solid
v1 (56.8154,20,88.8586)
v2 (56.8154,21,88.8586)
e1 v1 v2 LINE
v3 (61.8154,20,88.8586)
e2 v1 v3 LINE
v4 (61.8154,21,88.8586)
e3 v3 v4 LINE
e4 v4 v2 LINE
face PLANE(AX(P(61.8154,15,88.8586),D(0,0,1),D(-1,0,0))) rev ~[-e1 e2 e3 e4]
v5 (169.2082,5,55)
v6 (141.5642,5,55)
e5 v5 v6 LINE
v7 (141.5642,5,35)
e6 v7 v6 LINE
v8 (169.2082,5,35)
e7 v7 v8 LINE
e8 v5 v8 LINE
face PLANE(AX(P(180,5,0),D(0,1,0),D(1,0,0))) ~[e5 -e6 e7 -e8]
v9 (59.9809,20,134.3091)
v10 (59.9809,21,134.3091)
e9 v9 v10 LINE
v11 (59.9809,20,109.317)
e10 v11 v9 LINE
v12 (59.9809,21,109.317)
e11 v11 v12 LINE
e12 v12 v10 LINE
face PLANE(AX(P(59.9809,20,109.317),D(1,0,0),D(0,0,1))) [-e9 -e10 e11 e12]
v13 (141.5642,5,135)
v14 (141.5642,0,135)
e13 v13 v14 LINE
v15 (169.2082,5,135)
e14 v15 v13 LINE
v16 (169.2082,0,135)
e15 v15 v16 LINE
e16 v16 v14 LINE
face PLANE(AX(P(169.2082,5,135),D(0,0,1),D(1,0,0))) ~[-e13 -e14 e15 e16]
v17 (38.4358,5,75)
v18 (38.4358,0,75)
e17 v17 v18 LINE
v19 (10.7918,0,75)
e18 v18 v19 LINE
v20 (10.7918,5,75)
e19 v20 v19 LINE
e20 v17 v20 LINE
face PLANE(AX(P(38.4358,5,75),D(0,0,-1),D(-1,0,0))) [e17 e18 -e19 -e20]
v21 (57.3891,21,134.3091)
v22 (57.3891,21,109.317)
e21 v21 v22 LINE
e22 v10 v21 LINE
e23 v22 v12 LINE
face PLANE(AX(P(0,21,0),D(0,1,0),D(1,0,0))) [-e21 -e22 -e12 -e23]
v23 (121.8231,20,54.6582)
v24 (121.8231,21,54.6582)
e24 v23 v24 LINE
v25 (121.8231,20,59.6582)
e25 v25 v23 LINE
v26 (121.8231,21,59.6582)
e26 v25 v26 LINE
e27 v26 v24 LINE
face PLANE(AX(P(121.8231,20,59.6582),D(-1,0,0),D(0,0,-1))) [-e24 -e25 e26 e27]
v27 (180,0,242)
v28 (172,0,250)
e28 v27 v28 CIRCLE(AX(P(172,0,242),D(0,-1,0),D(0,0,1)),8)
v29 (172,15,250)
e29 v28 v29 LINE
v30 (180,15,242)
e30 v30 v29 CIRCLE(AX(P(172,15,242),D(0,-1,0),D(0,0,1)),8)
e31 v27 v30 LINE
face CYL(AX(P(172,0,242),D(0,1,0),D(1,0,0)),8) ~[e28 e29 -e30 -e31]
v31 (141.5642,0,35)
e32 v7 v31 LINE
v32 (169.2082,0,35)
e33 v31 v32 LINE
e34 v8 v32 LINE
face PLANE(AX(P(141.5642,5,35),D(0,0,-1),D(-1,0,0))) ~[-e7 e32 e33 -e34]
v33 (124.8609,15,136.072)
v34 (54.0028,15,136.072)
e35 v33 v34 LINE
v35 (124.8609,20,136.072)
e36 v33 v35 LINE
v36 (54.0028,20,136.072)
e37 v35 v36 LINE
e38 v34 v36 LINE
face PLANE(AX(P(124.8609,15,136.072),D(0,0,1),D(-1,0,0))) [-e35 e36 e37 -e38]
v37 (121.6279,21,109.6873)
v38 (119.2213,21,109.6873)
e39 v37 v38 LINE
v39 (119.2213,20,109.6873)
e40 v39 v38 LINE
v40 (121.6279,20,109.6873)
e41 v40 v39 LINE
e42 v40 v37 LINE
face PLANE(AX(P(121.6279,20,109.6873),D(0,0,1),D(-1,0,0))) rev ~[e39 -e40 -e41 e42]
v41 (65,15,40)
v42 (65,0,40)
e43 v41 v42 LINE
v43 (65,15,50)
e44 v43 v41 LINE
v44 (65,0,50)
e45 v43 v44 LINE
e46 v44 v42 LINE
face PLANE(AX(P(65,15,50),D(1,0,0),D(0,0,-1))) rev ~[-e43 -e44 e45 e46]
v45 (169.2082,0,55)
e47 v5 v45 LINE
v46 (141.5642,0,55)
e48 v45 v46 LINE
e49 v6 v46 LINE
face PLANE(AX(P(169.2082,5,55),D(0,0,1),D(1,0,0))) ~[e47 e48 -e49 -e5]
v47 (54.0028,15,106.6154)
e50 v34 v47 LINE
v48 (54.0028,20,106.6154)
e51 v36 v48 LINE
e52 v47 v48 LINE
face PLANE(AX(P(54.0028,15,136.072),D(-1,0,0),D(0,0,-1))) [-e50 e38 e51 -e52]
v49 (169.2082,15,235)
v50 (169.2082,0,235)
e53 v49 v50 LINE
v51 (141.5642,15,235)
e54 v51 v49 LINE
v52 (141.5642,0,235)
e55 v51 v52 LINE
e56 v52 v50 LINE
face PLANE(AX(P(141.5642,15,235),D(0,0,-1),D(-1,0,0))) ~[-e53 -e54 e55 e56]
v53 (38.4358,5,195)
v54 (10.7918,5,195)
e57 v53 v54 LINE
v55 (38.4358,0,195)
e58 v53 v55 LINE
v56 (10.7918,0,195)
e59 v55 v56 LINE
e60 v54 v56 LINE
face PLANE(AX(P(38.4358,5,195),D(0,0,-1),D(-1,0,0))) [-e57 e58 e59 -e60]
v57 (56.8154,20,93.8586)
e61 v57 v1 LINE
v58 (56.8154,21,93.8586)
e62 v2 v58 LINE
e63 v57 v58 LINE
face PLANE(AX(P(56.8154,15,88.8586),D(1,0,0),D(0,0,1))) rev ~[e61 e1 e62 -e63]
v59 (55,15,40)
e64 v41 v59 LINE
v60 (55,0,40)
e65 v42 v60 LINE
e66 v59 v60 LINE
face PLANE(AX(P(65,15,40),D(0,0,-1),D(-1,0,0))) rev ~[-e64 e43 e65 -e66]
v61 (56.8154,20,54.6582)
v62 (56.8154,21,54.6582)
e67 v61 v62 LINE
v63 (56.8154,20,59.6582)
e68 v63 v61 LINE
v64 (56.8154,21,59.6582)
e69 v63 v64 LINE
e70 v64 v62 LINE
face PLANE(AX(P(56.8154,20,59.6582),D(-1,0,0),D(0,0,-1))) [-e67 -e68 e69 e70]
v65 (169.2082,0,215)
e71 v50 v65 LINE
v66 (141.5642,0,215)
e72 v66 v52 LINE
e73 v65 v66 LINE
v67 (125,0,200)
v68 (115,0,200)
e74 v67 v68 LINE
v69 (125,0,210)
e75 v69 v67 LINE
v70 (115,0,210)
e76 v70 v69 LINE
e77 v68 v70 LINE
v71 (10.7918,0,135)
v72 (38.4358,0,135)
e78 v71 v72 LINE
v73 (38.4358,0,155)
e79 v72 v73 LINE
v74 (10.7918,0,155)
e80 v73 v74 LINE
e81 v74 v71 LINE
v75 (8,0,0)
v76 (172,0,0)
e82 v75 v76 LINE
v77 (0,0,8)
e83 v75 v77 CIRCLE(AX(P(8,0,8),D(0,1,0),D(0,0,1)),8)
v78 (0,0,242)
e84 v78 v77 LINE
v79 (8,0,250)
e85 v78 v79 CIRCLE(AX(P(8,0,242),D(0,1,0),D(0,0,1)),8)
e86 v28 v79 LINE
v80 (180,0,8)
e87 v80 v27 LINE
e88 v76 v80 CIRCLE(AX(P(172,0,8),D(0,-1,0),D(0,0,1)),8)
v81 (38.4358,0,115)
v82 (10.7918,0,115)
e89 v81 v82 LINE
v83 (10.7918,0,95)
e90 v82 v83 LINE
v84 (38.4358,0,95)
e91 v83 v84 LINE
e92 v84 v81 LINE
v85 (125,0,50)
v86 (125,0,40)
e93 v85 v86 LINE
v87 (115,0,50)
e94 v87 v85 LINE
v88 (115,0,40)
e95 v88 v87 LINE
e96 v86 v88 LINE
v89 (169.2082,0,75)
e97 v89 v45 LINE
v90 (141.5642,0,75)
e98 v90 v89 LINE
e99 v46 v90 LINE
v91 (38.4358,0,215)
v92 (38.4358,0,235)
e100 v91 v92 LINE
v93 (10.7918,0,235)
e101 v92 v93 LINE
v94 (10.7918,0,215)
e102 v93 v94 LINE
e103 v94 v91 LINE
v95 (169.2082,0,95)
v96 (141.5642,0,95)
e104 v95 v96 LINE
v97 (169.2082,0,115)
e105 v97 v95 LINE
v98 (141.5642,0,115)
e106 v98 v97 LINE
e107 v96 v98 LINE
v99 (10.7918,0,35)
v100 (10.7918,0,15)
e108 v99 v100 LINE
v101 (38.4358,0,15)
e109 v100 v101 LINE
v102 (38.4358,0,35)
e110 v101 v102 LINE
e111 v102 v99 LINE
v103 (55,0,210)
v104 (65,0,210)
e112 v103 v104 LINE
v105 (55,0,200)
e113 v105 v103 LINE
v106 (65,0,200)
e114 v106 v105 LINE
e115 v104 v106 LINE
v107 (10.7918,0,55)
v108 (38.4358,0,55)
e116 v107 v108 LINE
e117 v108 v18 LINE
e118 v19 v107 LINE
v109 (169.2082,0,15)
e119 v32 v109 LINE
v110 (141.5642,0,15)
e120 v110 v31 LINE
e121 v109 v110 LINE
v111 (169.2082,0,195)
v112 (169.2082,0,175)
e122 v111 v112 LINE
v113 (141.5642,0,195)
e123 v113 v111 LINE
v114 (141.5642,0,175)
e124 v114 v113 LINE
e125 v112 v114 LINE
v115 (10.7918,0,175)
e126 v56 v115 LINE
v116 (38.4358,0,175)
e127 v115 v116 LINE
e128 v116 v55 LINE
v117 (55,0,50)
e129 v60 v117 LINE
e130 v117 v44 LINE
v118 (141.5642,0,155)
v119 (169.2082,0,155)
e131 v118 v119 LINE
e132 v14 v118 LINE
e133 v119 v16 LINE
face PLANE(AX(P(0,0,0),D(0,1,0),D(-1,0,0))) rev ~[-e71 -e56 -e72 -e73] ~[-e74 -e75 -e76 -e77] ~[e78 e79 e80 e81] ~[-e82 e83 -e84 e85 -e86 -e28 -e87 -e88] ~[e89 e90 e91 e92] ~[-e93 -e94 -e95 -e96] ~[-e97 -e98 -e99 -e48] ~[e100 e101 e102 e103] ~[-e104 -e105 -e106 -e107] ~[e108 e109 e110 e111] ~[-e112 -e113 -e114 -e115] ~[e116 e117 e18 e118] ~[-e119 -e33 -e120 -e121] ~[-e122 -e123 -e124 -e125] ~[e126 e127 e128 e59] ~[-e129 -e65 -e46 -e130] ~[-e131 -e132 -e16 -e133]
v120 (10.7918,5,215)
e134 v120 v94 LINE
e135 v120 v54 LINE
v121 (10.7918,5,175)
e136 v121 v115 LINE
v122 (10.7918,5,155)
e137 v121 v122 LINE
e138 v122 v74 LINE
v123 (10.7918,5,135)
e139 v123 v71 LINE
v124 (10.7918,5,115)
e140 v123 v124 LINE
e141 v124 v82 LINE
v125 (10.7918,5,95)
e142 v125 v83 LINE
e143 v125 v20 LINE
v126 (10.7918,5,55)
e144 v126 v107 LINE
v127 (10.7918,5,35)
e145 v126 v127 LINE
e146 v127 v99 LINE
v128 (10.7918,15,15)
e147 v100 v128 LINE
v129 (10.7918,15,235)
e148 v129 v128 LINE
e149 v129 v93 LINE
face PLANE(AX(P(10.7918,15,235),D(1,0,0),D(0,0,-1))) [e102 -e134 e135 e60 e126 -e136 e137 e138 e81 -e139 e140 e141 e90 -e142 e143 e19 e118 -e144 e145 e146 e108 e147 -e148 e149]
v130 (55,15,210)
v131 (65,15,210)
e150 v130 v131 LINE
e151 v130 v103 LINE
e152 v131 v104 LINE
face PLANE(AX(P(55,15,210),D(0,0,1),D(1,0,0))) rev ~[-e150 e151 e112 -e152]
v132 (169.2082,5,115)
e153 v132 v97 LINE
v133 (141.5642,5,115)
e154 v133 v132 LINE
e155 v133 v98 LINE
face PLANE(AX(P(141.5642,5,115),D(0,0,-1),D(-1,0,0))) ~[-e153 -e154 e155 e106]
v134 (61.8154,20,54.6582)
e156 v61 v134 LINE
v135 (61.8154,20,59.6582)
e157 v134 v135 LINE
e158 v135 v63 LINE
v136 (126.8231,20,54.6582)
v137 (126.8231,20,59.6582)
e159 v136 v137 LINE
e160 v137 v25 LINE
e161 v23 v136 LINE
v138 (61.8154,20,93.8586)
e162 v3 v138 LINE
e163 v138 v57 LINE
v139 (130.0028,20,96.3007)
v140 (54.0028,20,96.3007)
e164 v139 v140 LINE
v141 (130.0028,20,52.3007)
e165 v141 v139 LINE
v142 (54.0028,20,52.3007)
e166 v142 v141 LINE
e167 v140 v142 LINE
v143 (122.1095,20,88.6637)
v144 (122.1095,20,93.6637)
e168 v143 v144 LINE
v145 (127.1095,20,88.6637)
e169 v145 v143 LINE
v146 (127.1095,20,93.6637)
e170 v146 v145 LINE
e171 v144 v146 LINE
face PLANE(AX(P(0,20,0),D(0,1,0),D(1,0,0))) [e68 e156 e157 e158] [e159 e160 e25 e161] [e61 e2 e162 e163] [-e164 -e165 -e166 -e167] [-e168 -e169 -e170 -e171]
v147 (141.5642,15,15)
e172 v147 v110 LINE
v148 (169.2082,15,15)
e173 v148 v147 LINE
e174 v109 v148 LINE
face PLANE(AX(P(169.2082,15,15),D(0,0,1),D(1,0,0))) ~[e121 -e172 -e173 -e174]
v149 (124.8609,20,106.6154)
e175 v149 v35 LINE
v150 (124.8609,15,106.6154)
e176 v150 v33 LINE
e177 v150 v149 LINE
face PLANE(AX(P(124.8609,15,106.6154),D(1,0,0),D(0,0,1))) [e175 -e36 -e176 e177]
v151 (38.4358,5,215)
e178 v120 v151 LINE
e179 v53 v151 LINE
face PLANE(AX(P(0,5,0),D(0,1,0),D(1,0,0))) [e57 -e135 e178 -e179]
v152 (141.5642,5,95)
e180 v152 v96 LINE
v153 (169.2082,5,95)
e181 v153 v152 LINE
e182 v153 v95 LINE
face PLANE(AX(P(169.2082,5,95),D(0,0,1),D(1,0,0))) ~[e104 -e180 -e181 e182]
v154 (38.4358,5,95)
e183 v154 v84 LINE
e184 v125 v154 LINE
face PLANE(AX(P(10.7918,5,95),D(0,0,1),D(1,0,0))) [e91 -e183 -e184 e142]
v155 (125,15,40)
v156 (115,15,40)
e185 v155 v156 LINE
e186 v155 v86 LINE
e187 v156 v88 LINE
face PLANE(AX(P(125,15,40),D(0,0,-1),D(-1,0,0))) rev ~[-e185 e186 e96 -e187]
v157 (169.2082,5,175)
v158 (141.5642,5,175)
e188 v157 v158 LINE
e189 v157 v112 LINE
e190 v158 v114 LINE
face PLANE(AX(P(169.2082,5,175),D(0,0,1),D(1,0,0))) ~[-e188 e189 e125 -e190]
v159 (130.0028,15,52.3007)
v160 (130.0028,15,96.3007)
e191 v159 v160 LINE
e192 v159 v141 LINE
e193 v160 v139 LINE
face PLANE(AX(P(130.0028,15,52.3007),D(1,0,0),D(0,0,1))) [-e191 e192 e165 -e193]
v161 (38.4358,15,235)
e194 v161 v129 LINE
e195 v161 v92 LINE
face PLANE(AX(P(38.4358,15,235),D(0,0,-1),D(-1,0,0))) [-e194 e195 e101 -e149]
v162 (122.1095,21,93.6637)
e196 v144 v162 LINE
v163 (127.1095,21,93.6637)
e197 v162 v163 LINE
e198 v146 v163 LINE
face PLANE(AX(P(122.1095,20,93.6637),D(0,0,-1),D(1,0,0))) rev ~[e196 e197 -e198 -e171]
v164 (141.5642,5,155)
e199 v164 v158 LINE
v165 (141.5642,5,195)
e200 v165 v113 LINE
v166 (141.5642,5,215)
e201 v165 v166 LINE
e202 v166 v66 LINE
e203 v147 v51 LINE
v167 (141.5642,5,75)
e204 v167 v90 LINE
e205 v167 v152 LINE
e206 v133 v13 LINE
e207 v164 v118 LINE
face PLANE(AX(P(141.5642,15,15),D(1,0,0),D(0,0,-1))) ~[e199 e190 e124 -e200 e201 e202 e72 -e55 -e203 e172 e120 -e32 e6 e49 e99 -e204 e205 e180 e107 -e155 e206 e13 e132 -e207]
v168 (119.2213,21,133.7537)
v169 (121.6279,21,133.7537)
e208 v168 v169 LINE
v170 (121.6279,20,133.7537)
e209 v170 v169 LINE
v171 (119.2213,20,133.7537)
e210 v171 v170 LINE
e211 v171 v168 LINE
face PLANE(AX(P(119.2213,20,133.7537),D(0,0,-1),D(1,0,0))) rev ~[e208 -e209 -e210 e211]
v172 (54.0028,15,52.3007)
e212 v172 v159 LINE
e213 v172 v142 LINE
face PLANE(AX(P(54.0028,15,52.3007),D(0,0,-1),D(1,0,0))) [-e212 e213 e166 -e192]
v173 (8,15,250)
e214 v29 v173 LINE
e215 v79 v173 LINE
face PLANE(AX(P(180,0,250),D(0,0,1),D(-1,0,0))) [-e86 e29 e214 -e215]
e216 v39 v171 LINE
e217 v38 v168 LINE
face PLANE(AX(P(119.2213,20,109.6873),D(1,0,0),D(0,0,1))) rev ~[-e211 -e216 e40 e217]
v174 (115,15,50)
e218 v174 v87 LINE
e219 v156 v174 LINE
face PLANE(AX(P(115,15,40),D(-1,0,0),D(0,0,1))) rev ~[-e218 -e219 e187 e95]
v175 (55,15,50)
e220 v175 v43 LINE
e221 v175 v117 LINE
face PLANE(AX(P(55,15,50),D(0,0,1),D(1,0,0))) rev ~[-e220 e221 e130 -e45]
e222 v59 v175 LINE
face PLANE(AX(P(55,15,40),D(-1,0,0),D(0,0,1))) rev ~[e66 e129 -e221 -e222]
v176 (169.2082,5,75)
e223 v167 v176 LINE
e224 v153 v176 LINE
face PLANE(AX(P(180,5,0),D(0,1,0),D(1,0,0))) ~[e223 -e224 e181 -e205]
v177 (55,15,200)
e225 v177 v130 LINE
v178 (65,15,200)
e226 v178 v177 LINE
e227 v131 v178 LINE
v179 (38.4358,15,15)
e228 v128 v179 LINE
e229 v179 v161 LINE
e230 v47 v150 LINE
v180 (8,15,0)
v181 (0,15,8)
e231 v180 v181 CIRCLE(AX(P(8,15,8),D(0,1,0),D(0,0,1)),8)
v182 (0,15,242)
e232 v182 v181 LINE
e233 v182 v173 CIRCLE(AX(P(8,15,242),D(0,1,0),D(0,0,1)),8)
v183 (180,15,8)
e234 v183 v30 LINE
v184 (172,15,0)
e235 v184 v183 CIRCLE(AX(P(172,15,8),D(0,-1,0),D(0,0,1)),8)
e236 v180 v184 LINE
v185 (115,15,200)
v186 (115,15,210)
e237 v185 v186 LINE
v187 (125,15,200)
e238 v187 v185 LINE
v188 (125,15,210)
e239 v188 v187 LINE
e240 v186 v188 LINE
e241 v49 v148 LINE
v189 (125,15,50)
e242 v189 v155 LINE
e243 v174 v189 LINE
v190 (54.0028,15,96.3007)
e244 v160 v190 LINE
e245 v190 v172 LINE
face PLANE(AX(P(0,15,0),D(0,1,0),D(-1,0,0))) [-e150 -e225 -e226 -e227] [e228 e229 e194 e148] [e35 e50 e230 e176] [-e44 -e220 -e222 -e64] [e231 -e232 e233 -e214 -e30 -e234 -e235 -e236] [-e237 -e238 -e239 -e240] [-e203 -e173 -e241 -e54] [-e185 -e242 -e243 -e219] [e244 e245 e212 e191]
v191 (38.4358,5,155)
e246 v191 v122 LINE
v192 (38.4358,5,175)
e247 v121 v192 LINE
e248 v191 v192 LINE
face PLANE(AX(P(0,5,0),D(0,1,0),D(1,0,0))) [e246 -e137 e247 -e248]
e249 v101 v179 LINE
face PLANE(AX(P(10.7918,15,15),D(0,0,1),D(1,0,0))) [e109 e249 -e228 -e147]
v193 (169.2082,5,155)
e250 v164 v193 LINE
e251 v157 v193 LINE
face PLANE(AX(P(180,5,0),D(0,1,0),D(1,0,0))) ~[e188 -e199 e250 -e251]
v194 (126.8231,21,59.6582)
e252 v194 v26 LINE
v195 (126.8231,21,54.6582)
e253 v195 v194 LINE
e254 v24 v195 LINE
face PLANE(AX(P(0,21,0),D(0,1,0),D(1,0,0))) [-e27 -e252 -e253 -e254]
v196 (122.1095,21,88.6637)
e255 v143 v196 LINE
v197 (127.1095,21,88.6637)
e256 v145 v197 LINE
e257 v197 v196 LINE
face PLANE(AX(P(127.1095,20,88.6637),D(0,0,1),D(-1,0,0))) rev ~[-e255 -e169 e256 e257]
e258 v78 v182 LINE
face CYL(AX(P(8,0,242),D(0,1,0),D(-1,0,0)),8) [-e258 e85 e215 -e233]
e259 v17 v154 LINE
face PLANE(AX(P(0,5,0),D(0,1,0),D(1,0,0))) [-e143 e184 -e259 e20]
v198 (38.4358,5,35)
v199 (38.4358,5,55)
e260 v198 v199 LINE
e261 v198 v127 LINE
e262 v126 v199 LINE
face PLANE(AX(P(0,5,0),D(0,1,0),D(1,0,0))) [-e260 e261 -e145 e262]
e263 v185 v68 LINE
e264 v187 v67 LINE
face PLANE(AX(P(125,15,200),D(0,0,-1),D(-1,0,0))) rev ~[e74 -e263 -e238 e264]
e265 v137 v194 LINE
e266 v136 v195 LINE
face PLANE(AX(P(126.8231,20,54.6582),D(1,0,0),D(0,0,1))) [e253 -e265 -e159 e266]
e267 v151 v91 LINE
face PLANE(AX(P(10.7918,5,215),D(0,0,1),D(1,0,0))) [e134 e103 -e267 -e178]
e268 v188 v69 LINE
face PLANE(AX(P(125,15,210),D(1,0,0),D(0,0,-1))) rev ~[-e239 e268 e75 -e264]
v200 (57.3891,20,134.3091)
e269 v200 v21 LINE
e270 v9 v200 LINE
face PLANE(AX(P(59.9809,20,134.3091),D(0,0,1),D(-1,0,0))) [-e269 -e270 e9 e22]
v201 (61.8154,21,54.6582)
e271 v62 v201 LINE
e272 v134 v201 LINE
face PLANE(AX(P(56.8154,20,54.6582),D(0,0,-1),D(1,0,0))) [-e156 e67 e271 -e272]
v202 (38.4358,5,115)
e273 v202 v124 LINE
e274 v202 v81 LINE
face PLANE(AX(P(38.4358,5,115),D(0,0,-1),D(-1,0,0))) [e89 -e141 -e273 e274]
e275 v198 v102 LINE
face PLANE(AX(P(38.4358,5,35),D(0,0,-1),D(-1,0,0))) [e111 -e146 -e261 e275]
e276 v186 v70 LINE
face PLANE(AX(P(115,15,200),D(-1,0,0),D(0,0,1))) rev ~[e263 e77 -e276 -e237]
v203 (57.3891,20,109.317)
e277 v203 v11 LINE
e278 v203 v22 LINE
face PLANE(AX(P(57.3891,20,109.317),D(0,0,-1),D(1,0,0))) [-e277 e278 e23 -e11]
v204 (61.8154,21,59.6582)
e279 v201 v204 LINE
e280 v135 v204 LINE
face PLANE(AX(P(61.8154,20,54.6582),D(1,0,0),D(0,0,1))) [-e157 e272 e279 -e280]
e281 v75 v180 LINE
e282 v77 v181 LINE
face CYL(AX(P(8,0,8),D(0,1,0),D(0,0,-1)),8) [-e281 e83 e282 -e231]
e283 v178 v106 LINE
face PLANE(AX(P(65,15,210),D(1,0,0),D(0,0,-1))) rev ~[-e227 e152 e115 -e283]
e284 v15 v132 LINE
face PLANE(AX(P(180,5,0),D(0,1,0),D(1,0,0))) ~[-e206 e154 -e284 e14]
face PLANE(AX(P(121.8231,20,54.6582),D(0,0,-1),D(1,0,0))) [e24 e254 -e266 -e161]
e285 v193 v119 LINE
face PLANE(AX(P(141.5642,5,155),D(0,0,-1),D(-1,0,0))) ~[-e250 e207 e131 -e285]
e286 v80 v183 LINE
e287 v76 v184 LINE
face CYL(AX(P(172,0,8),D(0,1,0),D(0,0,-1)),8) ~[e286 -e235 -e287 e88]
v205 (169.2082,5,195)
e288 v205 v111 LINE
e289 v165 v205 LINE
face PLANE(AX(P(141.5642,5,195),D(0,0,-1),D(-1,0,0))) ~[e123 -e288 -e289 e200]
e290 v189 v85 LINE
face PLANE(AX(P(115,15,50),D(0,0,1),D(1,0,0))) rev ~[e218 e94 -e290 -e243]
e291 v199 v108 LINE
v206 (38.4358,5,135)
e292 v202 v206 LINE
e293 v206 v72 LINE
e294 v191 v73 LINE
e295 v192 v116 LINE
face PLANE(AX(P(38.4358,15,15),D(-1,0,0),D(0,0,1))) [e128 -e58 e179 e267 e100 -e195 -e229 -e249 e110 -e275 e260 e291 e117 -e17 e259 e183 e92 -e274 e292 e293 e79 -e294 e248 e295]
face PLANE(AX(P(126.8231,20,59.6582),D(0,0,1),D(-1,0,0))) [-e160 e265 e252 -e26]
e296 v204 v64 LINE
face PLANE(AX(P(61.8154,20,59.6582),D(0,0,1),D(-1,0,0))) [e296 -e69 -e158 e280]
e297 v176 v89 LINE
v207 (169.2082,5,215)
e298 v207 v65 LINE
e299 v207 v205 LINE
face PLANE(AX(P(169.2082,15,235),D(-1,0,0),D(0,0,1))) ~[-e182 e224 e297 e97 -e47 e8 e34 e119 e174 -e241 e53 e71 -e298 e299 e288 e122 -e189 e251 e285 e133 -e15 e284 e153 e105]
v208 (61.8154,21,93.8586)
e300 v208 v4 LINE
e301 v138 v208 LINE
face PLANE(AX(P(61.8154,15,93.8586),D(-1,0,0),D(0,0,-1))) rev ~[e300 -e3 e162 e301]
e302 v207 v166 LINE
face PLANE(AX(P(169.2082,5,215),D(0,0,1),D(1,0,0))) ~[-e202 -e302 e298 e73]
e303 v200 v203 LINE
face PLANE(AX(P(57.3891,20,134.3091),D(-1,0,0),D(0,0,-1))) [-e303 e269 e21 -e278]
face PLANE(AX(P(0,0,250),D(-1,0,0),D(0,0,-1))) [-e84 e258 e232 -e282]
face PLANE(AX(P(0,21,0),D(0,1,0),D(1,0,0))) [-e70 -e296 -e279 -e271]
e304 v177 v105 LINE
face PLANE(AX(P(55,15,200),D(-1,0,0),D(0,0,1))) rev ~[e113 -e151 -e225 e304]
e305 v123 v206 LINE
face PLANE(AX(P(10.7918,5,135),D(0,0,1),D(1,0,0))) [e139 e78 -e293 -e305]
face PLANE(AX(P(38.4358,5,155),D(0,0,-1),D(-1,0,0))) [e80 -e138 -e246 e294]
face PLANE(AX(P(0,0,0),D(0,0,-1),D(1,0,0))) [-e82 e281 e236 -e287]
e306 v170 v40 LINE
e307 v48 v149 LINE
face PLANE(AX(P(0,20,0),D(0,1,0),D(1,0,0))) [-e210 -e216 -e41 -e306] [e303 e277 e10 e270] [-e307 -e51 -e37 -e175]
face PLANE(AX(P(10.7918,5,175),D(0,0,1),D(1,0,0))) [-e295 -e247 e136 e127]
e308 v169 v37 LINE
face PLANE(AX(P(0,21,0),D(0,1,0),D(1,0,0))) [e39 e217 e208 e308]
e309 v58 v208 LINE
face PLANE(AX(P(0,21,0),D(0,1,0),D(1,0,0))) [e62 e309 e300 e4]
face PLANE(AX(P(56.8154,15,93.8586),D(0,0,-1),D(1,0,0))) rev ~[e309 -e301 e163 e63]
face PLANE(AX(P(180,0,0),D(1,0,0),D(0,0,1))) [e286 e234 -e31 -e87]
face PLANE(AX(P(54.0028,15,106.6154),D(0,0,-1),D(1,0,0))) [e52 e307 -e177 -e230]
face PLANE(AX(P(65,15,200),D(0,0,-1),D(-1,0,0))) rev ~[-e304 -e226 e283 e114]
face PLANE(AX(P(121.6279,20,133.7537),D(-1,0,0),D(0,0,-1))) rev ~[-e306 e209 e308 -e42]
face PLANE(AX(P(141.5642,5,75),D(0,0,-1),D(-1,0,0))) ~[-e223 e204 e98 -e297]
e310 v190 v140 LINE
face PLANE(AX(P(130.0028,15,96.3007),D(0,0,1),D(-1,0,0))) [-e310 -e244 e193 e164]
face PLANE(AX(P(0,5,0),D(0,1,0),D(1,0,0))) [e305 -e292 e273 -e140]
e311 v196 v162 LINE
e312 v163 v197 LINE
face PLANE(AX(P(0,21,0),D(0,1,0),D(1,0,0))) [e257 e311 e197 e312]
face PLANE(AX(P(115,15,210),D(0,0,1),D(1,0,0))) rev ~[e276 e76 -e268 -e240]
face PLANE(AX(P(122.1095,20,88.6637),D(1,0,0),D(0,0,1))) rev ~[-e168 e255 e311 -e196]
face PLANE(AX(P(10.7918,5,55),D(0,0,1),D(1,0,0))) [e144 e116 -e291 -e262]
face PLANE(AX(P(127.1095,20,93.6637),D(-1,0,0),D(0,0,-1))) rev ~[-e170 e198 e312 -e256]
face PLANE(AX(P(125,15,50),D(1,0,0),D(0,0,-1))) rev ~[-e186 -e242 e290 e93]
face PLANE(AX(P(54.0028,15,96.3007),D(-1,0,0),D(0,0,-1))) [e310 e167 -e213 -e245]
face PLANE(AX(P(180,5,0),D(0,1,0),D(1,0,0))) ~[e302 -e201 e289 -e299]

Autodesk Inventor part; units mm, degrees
ref_plane "YZ Plane" through (0, 0, 0) normal (1, 0, 0) x (0, 1, 0)
ref_plane "XZ Plane" through (0, 0, 0) normal (0, 1, 0) x (-1, 0, 0)
sketch "Skizze1" plane through (0, 0, 0) normal (0, 1, 0) x (-1, 0, 0)
  point P0 (0, 0)
sketch "Skizze2" plane through (0, 0, 0) normal (0, 1, 0) x (-1, 0, 0)
  line L0 (0, 0) -> (-180, 0)
  line L1 (-180, 0) -> (-180, 250)
  line L2 (-180, 250) -> (0, 250)
  line L3 (0, 250) -> (0, 0)
  dimension "d0" = 180
  dimension "d1" = 250
extrude "Extrusion1" add sketch "Skizze2" along normal blind 15
sketch "Skizze3" plane through (0, 15, 0) normal (0, 1, 0) x (1, 0, 0)
  line L0 (10.7918, -15) -> (38.4358, -15)
  line L1 (38.4358, -15) -> (38.4358, -235)
  line L2 (38.4358, -235) -> (10.7918, -235)
  line L3 (10.7918, -235) -> (10.7918, -15)
  line L4 (0, -250) -> (180, -250) projected
  point P0 (0, 0)
  point P1 (24.6138, -15)
  point P2 (24.6138, -235)
  dimension "d79" = 220
  dimension "d80" = 15
extrude "Extrusion2" cut sketch "Skizze3" against normal blind 10
sketch "Skizze4" plane through (0, 15, 0) normal (0, 1, 0) x (1, 0, 0)
  line L0 (54.0028, -52.3007) -> (130.0028, -52.3007)
  line L1 (130.0028, -52.3007) -> (130.0028, -96.3007)
  line L2 (130.0028, -96.3007) -> (54.0028, -96.3007)
  line L3 (54.0028, -96.3007) -> (54.0028, -52.3007)
  point P0 (0, 0)
  dimension "d6" = 76
  dimension "d7" = 44
extrude "Extrusion3" add sketch "Skizze4" along normal blind 5
sketch "Skizze5" plane through (0, 15, 0) normal (0, 1, 0) x (1, 0, 0)
  line L0 (56.8154, -93.8586) -> (61.8154, -93.8586)
  line L1 (61.8154, -93.8586) -> (61.8154, -88.8586)
  line L2 (61.8154, -88.8586) -> (56.8154, -88.8586)
  line L3 (56.8154, -88.8586) -> (56.8154, -93.8586)
  line L4 (56.8154, -55.8667) -> (61.8154, -55.8667)
  line L5 (61.8154, -55.8667) -> (61.8154, -60.8667)
  line L6 (61.8154, -60.8667) -> (56.8154, -60.8667)
  line L7 (56.8154, -60.8667) -> (56.8154, -55.8667)
  point P0 (0, 0)
  dimension "d10" = 5
  dimension "d11" = 5
  dimension "d12" = 5
extrude "Extrusion4" add sketch "Skizze5" along normal blind 6 contours L3 L2 L1 L0
sketch "Skizze6" plane through (0, 20, 0) normal (0, 1, 0) x (1, 0, 0)
  line L0 (61.8154, -59.6582) -> (56.8154, -59.6582)
  line L1 (56.8154, -59.6582) -> (56.8154, -54.6582)
  line L2 (56.8154, -54.6582) -> (61.8154, -54.6582)
  line L3 (61.8154, -54.6582) -> (61.8154, -59.6582)
  point P0 (0, 0)
  dimension "d15" = 5
extrude "Extrusion5" add sketch "Skizze6" along normal blind 1
sketch "Skizze7" plane through (0, 20, 0) normal (0, 1, 0) x (1, 0, 0)
  line L0 (121.8231, -54.6582) -> (126.8231, -54.6582)
  line L1 (126.8231, -54.6582) -> (126.8231, -59.6582)
  line L2 (126.8231, -59.6582) -> (121.8231, -59.6582)
  line L3 (121.8231, -59.6582) -> (121.8231, -54.6582)
  point P0 (0, 0)
  dimension "d18" = 5
extrude "Extrusion6" add sketch "Skizze7" along normal blind 1
sketch "Skizze8" plane through (0, 20, 0) normal (0, 1, 0) x (1, 0, 0)
  line L0 (122.1095, -93.6637) -> (127.1095, -93.6637)
  line L1 (127.1095, -93.6637) -> (127.1095, -88.6637)
  line L2 (127.1095, -88.6637) -> (122.1095, -88.6637)
  line L3 (122.1095, -88.6637) -> (122.1095, -93.6637)
  point P0 (0, 0)
  point P1 (124.6095, -93.6637)
  point P2 (124.6095, -88.6637)
  dimension "d21" = 5
  dimension "d22" = 5
extrude "Extrusion7" add sketch "Skizze8" along normal blind 1
sketch "Skizze9" plane through (0, 15, 0) normal (0, 1, 0) x (1, 0, 0)
  line L0 (54.0028, -106.6154) -> (124.8609, -106.6154)
  line L1 (124.8609, -106.6154) -> (124.8609, -136.072)
  line L2 (124.8609, -136.072) -> (54.0028, -136.072)
  line L3 (54.0028, -136.072) -> (54.0028, -106.6154)
  line L4 (130.0028, -52.3007) -> (54.0028, -52.3007) projected
  line L5 (54.0028, -96.3007) -> (130.0028, -96.3007) projected
  line L6 (0, -250) -> (180, -250) projected
  point P0 (0, 0)
  point P1 (89.4318, -136.072)
  dimension "d182" = 83.7713
  dimension "d183" = 10.3146
  dimension "d184" = 113.928
  dimension "d185" = 113.928
extrude "Extrusion8" add sketch "Skizze9" along normal blind 5
sketch "Skizze10" plane through (0, 20, 0) normal (0, 1, 0) x (1, 0, 0)
  line L0 (57.3891, -109.317) -> (59.9809, -109.317)
  line L1 (59.9809, -109.317) -> (59.9809, -134.3091)
  line L2 (59.9809, -134.3091) -> (57.3891, -134.3091)
  line L3 (57.3891, -134.3091) -> (57.3891, -109.317)
  point P0 (0, 0)
extrude "Extrusion9" add sketch "Skizze10" along normal blind 1
sketch "Skizze11" plane through (0, 20, 0) normal (0, 1, 0) x (1, 0, 0)
  line L0 (121.6279, -109.6873) -> (119.2213, -109.6873)
  line L1 (119.2213, -109.6873) -> (119.2213, -133.7537)
  line L2 (119.2213, -133.7537) -> (121.6279, -133.7537)
  line L3 (121.6279, -133.7537) -> (121.6279, -109.6873)
  point P0 (0, 0)
extrude "Extrusion10" add sketch "Skizze11" along normal blind 1
sketch "Skizze14" plane through (0, 5, 0) normal (0, 1, 0) x (1, 0, 0)
  line L0 (10.7918, -235) -> (10.7918, -15) projected
  line L1 (38.4358, -15) -> (38.4358, -235) projected
  line L2 (10.7918, -15) -> (38.4358, -15)
  line L3 (38.4358, -15) -> (38.4358, -35)
  line L4 (38.4358, -35) -> (10.7918, -35)
  line L5 (10.7918, -35) -> (10.7918, -15)
  line L6 (10.7918, -55) -> (38.4358, -55)
  line L7 (38.4358, -55) -> (38.4358, -75)
  line L8 (38.4358, -75) -> (10.7918, -75)
  line L9 (10.7918, -75) -> (10.7918, -55)
  line L10 (10.7918, -95) -> (38.4358, -95)
  line L11 (38.4358, -95) -> (38.4358, -115)
  line L12 (38.4358, -115) -> (10.7918, -115)
  line L13 (10.7918, -115) -> (10.7918, -95)
  line L14 (10.7918, -135) -> (38.4358, -135)
  line L15 (38.4358, -135) -> (38.4358, -155)
  line L16 (38.4358, -155) -> (10.7918, -155)
  line L17 (10.7918, -155) -> (10.7918, -135)
  line L18 (10.7918, -175) -> (38.4358, -175)
  line L19 (38.4358, -175) -> (38.4358, -195)
  line L20 (38.4358, -195) -> (10.7918, -195)
  line L21 (10.7918, -195) -> (10.7918, -175)
  line L22 (10.7918, -215) -> (38.4358, -215)
  line L23 (38.4358, -215) -> (38.4358, -235)
  line L24 (38.4358, -235) -> (10.7918, -235)
  line L25 (10.7918, -235) -> (10.7918, -215)
  point P0 (0, 0)
  point P1 (24.6138, -55)
  point P2 (24.6138, -35)
  point P3 (24.6138, -95)
  point P4 (24.6138, -135)
  point P5 (24.6138, -175)
  point P6 (24.6138, -155)
  point P7 (24.6138, -215)
  point P8 (24.6138, -195)
  point P9 (10.7918, -235)
  point P10 (38.4358, -215)
  point P11 (10.7918, -195)
  point P12 (38.4358, -175)
  point P13 (10.7918, -155)
  point P14 (38.4358, -135)
  point P15 (10.7918, -115)
  point P16 (38.4358, -95)
  point P17 (10.7918, -75)
  point P18 (38.4358, -55)
  point P19 (10.7918, -55)
  point P20 (10.7918, -35)
  dimension "d42" = 20
  dimension "d43" = 20
  dimension "d44" = 20
  dimension "d45" = 20
  dimension "d46" = 20
  dimension "d47" = 20
  dimension "d48" = 20
  dimension "d49" = 20
  dimension "d50" = 20
  dimension "d51" = 20
  dimension "d52" = 20
extrude "Extrusion12" cut sketch "Skizze14" against normal blind 20 contours L0 L22 L1 L24 | L0 L18 L1 L20 | L0 L14 L1 L16 | L0 L10 L1 L12 | L0 L6 L1 L8 | L0 L2 L1 L4
ref_plane "Arbeitsebene1" through (90, 0, 250) normal (1, 0, 0) x (0, 0, -1)
mirror "Spiegeln1" about plane through (90, 0, 250) normal (1, 0, 0) of "Extrusion12"
mirror "Spiegeln2" about plane through (90, 0, 250) normal (1, 0, 0) of "Extrusion2"
sketch "Skizze15" plane through (0, 15, 0) normal (0, 1, 0) x (1, 0, 0)
  line L0 (55, -210) -> (65, -210)
  line L1 (65, -210) -> (65, -200)
  line L2 (65, -200) -> (55, -200)
  line L3 (55, -200) -> (55, -210)
  line L4 (115, -210) -> (125, -210)
  line L5 (125, -210) -> (125, -200)
  line L6 (125, -200) -> (115, -200)
  line L7 (115, -200) -> (115, -210)
  line L8 (0, -250) -> (180, -250) projected
  line L9 (55, -50) -> (65, -50)
  line L10 (65, -50) -> (65, -40)
  line L11 (65, -40) -> (55, -40)
  line L12 (55, -40) -> (55, -50)
  line L13 (115, -50) -> (125, -50)
  line L14 (125, -50) -> (125, -40)
  line L15 (125, -40) -> (115, -40)
  line L16 (115, -40) -> (115, -50)
  line L17 (0, 0) -> (0, -250) projected
  line L18 (180, -250) -> (180, 0) projected
  line L19 (180, 0) -> (0, 0) projected
  point P0 (120, -210)
  point P1 (60, -50)
  point P2 (120, -50)
  point P3 (55, -205)
  point P4 (125, -205)
  point P5 (55, -45)
  point P6 (125, -45)
  point P7 (60, -210)
  point P8 (60, -40)
  point P9 (120, -40)
  dimension "d56" = 10
  dimension "d57" = 10
  dimension "d58" = 10
  dimension "d59" = 10
  dimension "d60" = 40
  dimension "d61" = 10
  dimension "d62" = 10
  dimension "d63" = 10
  dimension "d64" = 10
  dimension "d72" = 55
  dimension "d73" = 55
  dimension "d74" = 55
  dimension "d75" = 55
  dimension "d76" = 40
  dimension "d77" = 40
  dimension "d78" = 40
extrude "Extrusion13" cut sketch "Skizze15" against normal blind 20 contours L3 L2 L1 L0 | L7 L6 L5 L4 | L12 L11 L10 L9 | L16 L15 L14 L13
fillet "Rundung9" radius 8 4 edges at (180, 7.5, 250) (180, 7.5, 0) (0, 7.5, 0) (0, 7.5, 250)
properties part number "WRO Modell_RC_Auto_3"
